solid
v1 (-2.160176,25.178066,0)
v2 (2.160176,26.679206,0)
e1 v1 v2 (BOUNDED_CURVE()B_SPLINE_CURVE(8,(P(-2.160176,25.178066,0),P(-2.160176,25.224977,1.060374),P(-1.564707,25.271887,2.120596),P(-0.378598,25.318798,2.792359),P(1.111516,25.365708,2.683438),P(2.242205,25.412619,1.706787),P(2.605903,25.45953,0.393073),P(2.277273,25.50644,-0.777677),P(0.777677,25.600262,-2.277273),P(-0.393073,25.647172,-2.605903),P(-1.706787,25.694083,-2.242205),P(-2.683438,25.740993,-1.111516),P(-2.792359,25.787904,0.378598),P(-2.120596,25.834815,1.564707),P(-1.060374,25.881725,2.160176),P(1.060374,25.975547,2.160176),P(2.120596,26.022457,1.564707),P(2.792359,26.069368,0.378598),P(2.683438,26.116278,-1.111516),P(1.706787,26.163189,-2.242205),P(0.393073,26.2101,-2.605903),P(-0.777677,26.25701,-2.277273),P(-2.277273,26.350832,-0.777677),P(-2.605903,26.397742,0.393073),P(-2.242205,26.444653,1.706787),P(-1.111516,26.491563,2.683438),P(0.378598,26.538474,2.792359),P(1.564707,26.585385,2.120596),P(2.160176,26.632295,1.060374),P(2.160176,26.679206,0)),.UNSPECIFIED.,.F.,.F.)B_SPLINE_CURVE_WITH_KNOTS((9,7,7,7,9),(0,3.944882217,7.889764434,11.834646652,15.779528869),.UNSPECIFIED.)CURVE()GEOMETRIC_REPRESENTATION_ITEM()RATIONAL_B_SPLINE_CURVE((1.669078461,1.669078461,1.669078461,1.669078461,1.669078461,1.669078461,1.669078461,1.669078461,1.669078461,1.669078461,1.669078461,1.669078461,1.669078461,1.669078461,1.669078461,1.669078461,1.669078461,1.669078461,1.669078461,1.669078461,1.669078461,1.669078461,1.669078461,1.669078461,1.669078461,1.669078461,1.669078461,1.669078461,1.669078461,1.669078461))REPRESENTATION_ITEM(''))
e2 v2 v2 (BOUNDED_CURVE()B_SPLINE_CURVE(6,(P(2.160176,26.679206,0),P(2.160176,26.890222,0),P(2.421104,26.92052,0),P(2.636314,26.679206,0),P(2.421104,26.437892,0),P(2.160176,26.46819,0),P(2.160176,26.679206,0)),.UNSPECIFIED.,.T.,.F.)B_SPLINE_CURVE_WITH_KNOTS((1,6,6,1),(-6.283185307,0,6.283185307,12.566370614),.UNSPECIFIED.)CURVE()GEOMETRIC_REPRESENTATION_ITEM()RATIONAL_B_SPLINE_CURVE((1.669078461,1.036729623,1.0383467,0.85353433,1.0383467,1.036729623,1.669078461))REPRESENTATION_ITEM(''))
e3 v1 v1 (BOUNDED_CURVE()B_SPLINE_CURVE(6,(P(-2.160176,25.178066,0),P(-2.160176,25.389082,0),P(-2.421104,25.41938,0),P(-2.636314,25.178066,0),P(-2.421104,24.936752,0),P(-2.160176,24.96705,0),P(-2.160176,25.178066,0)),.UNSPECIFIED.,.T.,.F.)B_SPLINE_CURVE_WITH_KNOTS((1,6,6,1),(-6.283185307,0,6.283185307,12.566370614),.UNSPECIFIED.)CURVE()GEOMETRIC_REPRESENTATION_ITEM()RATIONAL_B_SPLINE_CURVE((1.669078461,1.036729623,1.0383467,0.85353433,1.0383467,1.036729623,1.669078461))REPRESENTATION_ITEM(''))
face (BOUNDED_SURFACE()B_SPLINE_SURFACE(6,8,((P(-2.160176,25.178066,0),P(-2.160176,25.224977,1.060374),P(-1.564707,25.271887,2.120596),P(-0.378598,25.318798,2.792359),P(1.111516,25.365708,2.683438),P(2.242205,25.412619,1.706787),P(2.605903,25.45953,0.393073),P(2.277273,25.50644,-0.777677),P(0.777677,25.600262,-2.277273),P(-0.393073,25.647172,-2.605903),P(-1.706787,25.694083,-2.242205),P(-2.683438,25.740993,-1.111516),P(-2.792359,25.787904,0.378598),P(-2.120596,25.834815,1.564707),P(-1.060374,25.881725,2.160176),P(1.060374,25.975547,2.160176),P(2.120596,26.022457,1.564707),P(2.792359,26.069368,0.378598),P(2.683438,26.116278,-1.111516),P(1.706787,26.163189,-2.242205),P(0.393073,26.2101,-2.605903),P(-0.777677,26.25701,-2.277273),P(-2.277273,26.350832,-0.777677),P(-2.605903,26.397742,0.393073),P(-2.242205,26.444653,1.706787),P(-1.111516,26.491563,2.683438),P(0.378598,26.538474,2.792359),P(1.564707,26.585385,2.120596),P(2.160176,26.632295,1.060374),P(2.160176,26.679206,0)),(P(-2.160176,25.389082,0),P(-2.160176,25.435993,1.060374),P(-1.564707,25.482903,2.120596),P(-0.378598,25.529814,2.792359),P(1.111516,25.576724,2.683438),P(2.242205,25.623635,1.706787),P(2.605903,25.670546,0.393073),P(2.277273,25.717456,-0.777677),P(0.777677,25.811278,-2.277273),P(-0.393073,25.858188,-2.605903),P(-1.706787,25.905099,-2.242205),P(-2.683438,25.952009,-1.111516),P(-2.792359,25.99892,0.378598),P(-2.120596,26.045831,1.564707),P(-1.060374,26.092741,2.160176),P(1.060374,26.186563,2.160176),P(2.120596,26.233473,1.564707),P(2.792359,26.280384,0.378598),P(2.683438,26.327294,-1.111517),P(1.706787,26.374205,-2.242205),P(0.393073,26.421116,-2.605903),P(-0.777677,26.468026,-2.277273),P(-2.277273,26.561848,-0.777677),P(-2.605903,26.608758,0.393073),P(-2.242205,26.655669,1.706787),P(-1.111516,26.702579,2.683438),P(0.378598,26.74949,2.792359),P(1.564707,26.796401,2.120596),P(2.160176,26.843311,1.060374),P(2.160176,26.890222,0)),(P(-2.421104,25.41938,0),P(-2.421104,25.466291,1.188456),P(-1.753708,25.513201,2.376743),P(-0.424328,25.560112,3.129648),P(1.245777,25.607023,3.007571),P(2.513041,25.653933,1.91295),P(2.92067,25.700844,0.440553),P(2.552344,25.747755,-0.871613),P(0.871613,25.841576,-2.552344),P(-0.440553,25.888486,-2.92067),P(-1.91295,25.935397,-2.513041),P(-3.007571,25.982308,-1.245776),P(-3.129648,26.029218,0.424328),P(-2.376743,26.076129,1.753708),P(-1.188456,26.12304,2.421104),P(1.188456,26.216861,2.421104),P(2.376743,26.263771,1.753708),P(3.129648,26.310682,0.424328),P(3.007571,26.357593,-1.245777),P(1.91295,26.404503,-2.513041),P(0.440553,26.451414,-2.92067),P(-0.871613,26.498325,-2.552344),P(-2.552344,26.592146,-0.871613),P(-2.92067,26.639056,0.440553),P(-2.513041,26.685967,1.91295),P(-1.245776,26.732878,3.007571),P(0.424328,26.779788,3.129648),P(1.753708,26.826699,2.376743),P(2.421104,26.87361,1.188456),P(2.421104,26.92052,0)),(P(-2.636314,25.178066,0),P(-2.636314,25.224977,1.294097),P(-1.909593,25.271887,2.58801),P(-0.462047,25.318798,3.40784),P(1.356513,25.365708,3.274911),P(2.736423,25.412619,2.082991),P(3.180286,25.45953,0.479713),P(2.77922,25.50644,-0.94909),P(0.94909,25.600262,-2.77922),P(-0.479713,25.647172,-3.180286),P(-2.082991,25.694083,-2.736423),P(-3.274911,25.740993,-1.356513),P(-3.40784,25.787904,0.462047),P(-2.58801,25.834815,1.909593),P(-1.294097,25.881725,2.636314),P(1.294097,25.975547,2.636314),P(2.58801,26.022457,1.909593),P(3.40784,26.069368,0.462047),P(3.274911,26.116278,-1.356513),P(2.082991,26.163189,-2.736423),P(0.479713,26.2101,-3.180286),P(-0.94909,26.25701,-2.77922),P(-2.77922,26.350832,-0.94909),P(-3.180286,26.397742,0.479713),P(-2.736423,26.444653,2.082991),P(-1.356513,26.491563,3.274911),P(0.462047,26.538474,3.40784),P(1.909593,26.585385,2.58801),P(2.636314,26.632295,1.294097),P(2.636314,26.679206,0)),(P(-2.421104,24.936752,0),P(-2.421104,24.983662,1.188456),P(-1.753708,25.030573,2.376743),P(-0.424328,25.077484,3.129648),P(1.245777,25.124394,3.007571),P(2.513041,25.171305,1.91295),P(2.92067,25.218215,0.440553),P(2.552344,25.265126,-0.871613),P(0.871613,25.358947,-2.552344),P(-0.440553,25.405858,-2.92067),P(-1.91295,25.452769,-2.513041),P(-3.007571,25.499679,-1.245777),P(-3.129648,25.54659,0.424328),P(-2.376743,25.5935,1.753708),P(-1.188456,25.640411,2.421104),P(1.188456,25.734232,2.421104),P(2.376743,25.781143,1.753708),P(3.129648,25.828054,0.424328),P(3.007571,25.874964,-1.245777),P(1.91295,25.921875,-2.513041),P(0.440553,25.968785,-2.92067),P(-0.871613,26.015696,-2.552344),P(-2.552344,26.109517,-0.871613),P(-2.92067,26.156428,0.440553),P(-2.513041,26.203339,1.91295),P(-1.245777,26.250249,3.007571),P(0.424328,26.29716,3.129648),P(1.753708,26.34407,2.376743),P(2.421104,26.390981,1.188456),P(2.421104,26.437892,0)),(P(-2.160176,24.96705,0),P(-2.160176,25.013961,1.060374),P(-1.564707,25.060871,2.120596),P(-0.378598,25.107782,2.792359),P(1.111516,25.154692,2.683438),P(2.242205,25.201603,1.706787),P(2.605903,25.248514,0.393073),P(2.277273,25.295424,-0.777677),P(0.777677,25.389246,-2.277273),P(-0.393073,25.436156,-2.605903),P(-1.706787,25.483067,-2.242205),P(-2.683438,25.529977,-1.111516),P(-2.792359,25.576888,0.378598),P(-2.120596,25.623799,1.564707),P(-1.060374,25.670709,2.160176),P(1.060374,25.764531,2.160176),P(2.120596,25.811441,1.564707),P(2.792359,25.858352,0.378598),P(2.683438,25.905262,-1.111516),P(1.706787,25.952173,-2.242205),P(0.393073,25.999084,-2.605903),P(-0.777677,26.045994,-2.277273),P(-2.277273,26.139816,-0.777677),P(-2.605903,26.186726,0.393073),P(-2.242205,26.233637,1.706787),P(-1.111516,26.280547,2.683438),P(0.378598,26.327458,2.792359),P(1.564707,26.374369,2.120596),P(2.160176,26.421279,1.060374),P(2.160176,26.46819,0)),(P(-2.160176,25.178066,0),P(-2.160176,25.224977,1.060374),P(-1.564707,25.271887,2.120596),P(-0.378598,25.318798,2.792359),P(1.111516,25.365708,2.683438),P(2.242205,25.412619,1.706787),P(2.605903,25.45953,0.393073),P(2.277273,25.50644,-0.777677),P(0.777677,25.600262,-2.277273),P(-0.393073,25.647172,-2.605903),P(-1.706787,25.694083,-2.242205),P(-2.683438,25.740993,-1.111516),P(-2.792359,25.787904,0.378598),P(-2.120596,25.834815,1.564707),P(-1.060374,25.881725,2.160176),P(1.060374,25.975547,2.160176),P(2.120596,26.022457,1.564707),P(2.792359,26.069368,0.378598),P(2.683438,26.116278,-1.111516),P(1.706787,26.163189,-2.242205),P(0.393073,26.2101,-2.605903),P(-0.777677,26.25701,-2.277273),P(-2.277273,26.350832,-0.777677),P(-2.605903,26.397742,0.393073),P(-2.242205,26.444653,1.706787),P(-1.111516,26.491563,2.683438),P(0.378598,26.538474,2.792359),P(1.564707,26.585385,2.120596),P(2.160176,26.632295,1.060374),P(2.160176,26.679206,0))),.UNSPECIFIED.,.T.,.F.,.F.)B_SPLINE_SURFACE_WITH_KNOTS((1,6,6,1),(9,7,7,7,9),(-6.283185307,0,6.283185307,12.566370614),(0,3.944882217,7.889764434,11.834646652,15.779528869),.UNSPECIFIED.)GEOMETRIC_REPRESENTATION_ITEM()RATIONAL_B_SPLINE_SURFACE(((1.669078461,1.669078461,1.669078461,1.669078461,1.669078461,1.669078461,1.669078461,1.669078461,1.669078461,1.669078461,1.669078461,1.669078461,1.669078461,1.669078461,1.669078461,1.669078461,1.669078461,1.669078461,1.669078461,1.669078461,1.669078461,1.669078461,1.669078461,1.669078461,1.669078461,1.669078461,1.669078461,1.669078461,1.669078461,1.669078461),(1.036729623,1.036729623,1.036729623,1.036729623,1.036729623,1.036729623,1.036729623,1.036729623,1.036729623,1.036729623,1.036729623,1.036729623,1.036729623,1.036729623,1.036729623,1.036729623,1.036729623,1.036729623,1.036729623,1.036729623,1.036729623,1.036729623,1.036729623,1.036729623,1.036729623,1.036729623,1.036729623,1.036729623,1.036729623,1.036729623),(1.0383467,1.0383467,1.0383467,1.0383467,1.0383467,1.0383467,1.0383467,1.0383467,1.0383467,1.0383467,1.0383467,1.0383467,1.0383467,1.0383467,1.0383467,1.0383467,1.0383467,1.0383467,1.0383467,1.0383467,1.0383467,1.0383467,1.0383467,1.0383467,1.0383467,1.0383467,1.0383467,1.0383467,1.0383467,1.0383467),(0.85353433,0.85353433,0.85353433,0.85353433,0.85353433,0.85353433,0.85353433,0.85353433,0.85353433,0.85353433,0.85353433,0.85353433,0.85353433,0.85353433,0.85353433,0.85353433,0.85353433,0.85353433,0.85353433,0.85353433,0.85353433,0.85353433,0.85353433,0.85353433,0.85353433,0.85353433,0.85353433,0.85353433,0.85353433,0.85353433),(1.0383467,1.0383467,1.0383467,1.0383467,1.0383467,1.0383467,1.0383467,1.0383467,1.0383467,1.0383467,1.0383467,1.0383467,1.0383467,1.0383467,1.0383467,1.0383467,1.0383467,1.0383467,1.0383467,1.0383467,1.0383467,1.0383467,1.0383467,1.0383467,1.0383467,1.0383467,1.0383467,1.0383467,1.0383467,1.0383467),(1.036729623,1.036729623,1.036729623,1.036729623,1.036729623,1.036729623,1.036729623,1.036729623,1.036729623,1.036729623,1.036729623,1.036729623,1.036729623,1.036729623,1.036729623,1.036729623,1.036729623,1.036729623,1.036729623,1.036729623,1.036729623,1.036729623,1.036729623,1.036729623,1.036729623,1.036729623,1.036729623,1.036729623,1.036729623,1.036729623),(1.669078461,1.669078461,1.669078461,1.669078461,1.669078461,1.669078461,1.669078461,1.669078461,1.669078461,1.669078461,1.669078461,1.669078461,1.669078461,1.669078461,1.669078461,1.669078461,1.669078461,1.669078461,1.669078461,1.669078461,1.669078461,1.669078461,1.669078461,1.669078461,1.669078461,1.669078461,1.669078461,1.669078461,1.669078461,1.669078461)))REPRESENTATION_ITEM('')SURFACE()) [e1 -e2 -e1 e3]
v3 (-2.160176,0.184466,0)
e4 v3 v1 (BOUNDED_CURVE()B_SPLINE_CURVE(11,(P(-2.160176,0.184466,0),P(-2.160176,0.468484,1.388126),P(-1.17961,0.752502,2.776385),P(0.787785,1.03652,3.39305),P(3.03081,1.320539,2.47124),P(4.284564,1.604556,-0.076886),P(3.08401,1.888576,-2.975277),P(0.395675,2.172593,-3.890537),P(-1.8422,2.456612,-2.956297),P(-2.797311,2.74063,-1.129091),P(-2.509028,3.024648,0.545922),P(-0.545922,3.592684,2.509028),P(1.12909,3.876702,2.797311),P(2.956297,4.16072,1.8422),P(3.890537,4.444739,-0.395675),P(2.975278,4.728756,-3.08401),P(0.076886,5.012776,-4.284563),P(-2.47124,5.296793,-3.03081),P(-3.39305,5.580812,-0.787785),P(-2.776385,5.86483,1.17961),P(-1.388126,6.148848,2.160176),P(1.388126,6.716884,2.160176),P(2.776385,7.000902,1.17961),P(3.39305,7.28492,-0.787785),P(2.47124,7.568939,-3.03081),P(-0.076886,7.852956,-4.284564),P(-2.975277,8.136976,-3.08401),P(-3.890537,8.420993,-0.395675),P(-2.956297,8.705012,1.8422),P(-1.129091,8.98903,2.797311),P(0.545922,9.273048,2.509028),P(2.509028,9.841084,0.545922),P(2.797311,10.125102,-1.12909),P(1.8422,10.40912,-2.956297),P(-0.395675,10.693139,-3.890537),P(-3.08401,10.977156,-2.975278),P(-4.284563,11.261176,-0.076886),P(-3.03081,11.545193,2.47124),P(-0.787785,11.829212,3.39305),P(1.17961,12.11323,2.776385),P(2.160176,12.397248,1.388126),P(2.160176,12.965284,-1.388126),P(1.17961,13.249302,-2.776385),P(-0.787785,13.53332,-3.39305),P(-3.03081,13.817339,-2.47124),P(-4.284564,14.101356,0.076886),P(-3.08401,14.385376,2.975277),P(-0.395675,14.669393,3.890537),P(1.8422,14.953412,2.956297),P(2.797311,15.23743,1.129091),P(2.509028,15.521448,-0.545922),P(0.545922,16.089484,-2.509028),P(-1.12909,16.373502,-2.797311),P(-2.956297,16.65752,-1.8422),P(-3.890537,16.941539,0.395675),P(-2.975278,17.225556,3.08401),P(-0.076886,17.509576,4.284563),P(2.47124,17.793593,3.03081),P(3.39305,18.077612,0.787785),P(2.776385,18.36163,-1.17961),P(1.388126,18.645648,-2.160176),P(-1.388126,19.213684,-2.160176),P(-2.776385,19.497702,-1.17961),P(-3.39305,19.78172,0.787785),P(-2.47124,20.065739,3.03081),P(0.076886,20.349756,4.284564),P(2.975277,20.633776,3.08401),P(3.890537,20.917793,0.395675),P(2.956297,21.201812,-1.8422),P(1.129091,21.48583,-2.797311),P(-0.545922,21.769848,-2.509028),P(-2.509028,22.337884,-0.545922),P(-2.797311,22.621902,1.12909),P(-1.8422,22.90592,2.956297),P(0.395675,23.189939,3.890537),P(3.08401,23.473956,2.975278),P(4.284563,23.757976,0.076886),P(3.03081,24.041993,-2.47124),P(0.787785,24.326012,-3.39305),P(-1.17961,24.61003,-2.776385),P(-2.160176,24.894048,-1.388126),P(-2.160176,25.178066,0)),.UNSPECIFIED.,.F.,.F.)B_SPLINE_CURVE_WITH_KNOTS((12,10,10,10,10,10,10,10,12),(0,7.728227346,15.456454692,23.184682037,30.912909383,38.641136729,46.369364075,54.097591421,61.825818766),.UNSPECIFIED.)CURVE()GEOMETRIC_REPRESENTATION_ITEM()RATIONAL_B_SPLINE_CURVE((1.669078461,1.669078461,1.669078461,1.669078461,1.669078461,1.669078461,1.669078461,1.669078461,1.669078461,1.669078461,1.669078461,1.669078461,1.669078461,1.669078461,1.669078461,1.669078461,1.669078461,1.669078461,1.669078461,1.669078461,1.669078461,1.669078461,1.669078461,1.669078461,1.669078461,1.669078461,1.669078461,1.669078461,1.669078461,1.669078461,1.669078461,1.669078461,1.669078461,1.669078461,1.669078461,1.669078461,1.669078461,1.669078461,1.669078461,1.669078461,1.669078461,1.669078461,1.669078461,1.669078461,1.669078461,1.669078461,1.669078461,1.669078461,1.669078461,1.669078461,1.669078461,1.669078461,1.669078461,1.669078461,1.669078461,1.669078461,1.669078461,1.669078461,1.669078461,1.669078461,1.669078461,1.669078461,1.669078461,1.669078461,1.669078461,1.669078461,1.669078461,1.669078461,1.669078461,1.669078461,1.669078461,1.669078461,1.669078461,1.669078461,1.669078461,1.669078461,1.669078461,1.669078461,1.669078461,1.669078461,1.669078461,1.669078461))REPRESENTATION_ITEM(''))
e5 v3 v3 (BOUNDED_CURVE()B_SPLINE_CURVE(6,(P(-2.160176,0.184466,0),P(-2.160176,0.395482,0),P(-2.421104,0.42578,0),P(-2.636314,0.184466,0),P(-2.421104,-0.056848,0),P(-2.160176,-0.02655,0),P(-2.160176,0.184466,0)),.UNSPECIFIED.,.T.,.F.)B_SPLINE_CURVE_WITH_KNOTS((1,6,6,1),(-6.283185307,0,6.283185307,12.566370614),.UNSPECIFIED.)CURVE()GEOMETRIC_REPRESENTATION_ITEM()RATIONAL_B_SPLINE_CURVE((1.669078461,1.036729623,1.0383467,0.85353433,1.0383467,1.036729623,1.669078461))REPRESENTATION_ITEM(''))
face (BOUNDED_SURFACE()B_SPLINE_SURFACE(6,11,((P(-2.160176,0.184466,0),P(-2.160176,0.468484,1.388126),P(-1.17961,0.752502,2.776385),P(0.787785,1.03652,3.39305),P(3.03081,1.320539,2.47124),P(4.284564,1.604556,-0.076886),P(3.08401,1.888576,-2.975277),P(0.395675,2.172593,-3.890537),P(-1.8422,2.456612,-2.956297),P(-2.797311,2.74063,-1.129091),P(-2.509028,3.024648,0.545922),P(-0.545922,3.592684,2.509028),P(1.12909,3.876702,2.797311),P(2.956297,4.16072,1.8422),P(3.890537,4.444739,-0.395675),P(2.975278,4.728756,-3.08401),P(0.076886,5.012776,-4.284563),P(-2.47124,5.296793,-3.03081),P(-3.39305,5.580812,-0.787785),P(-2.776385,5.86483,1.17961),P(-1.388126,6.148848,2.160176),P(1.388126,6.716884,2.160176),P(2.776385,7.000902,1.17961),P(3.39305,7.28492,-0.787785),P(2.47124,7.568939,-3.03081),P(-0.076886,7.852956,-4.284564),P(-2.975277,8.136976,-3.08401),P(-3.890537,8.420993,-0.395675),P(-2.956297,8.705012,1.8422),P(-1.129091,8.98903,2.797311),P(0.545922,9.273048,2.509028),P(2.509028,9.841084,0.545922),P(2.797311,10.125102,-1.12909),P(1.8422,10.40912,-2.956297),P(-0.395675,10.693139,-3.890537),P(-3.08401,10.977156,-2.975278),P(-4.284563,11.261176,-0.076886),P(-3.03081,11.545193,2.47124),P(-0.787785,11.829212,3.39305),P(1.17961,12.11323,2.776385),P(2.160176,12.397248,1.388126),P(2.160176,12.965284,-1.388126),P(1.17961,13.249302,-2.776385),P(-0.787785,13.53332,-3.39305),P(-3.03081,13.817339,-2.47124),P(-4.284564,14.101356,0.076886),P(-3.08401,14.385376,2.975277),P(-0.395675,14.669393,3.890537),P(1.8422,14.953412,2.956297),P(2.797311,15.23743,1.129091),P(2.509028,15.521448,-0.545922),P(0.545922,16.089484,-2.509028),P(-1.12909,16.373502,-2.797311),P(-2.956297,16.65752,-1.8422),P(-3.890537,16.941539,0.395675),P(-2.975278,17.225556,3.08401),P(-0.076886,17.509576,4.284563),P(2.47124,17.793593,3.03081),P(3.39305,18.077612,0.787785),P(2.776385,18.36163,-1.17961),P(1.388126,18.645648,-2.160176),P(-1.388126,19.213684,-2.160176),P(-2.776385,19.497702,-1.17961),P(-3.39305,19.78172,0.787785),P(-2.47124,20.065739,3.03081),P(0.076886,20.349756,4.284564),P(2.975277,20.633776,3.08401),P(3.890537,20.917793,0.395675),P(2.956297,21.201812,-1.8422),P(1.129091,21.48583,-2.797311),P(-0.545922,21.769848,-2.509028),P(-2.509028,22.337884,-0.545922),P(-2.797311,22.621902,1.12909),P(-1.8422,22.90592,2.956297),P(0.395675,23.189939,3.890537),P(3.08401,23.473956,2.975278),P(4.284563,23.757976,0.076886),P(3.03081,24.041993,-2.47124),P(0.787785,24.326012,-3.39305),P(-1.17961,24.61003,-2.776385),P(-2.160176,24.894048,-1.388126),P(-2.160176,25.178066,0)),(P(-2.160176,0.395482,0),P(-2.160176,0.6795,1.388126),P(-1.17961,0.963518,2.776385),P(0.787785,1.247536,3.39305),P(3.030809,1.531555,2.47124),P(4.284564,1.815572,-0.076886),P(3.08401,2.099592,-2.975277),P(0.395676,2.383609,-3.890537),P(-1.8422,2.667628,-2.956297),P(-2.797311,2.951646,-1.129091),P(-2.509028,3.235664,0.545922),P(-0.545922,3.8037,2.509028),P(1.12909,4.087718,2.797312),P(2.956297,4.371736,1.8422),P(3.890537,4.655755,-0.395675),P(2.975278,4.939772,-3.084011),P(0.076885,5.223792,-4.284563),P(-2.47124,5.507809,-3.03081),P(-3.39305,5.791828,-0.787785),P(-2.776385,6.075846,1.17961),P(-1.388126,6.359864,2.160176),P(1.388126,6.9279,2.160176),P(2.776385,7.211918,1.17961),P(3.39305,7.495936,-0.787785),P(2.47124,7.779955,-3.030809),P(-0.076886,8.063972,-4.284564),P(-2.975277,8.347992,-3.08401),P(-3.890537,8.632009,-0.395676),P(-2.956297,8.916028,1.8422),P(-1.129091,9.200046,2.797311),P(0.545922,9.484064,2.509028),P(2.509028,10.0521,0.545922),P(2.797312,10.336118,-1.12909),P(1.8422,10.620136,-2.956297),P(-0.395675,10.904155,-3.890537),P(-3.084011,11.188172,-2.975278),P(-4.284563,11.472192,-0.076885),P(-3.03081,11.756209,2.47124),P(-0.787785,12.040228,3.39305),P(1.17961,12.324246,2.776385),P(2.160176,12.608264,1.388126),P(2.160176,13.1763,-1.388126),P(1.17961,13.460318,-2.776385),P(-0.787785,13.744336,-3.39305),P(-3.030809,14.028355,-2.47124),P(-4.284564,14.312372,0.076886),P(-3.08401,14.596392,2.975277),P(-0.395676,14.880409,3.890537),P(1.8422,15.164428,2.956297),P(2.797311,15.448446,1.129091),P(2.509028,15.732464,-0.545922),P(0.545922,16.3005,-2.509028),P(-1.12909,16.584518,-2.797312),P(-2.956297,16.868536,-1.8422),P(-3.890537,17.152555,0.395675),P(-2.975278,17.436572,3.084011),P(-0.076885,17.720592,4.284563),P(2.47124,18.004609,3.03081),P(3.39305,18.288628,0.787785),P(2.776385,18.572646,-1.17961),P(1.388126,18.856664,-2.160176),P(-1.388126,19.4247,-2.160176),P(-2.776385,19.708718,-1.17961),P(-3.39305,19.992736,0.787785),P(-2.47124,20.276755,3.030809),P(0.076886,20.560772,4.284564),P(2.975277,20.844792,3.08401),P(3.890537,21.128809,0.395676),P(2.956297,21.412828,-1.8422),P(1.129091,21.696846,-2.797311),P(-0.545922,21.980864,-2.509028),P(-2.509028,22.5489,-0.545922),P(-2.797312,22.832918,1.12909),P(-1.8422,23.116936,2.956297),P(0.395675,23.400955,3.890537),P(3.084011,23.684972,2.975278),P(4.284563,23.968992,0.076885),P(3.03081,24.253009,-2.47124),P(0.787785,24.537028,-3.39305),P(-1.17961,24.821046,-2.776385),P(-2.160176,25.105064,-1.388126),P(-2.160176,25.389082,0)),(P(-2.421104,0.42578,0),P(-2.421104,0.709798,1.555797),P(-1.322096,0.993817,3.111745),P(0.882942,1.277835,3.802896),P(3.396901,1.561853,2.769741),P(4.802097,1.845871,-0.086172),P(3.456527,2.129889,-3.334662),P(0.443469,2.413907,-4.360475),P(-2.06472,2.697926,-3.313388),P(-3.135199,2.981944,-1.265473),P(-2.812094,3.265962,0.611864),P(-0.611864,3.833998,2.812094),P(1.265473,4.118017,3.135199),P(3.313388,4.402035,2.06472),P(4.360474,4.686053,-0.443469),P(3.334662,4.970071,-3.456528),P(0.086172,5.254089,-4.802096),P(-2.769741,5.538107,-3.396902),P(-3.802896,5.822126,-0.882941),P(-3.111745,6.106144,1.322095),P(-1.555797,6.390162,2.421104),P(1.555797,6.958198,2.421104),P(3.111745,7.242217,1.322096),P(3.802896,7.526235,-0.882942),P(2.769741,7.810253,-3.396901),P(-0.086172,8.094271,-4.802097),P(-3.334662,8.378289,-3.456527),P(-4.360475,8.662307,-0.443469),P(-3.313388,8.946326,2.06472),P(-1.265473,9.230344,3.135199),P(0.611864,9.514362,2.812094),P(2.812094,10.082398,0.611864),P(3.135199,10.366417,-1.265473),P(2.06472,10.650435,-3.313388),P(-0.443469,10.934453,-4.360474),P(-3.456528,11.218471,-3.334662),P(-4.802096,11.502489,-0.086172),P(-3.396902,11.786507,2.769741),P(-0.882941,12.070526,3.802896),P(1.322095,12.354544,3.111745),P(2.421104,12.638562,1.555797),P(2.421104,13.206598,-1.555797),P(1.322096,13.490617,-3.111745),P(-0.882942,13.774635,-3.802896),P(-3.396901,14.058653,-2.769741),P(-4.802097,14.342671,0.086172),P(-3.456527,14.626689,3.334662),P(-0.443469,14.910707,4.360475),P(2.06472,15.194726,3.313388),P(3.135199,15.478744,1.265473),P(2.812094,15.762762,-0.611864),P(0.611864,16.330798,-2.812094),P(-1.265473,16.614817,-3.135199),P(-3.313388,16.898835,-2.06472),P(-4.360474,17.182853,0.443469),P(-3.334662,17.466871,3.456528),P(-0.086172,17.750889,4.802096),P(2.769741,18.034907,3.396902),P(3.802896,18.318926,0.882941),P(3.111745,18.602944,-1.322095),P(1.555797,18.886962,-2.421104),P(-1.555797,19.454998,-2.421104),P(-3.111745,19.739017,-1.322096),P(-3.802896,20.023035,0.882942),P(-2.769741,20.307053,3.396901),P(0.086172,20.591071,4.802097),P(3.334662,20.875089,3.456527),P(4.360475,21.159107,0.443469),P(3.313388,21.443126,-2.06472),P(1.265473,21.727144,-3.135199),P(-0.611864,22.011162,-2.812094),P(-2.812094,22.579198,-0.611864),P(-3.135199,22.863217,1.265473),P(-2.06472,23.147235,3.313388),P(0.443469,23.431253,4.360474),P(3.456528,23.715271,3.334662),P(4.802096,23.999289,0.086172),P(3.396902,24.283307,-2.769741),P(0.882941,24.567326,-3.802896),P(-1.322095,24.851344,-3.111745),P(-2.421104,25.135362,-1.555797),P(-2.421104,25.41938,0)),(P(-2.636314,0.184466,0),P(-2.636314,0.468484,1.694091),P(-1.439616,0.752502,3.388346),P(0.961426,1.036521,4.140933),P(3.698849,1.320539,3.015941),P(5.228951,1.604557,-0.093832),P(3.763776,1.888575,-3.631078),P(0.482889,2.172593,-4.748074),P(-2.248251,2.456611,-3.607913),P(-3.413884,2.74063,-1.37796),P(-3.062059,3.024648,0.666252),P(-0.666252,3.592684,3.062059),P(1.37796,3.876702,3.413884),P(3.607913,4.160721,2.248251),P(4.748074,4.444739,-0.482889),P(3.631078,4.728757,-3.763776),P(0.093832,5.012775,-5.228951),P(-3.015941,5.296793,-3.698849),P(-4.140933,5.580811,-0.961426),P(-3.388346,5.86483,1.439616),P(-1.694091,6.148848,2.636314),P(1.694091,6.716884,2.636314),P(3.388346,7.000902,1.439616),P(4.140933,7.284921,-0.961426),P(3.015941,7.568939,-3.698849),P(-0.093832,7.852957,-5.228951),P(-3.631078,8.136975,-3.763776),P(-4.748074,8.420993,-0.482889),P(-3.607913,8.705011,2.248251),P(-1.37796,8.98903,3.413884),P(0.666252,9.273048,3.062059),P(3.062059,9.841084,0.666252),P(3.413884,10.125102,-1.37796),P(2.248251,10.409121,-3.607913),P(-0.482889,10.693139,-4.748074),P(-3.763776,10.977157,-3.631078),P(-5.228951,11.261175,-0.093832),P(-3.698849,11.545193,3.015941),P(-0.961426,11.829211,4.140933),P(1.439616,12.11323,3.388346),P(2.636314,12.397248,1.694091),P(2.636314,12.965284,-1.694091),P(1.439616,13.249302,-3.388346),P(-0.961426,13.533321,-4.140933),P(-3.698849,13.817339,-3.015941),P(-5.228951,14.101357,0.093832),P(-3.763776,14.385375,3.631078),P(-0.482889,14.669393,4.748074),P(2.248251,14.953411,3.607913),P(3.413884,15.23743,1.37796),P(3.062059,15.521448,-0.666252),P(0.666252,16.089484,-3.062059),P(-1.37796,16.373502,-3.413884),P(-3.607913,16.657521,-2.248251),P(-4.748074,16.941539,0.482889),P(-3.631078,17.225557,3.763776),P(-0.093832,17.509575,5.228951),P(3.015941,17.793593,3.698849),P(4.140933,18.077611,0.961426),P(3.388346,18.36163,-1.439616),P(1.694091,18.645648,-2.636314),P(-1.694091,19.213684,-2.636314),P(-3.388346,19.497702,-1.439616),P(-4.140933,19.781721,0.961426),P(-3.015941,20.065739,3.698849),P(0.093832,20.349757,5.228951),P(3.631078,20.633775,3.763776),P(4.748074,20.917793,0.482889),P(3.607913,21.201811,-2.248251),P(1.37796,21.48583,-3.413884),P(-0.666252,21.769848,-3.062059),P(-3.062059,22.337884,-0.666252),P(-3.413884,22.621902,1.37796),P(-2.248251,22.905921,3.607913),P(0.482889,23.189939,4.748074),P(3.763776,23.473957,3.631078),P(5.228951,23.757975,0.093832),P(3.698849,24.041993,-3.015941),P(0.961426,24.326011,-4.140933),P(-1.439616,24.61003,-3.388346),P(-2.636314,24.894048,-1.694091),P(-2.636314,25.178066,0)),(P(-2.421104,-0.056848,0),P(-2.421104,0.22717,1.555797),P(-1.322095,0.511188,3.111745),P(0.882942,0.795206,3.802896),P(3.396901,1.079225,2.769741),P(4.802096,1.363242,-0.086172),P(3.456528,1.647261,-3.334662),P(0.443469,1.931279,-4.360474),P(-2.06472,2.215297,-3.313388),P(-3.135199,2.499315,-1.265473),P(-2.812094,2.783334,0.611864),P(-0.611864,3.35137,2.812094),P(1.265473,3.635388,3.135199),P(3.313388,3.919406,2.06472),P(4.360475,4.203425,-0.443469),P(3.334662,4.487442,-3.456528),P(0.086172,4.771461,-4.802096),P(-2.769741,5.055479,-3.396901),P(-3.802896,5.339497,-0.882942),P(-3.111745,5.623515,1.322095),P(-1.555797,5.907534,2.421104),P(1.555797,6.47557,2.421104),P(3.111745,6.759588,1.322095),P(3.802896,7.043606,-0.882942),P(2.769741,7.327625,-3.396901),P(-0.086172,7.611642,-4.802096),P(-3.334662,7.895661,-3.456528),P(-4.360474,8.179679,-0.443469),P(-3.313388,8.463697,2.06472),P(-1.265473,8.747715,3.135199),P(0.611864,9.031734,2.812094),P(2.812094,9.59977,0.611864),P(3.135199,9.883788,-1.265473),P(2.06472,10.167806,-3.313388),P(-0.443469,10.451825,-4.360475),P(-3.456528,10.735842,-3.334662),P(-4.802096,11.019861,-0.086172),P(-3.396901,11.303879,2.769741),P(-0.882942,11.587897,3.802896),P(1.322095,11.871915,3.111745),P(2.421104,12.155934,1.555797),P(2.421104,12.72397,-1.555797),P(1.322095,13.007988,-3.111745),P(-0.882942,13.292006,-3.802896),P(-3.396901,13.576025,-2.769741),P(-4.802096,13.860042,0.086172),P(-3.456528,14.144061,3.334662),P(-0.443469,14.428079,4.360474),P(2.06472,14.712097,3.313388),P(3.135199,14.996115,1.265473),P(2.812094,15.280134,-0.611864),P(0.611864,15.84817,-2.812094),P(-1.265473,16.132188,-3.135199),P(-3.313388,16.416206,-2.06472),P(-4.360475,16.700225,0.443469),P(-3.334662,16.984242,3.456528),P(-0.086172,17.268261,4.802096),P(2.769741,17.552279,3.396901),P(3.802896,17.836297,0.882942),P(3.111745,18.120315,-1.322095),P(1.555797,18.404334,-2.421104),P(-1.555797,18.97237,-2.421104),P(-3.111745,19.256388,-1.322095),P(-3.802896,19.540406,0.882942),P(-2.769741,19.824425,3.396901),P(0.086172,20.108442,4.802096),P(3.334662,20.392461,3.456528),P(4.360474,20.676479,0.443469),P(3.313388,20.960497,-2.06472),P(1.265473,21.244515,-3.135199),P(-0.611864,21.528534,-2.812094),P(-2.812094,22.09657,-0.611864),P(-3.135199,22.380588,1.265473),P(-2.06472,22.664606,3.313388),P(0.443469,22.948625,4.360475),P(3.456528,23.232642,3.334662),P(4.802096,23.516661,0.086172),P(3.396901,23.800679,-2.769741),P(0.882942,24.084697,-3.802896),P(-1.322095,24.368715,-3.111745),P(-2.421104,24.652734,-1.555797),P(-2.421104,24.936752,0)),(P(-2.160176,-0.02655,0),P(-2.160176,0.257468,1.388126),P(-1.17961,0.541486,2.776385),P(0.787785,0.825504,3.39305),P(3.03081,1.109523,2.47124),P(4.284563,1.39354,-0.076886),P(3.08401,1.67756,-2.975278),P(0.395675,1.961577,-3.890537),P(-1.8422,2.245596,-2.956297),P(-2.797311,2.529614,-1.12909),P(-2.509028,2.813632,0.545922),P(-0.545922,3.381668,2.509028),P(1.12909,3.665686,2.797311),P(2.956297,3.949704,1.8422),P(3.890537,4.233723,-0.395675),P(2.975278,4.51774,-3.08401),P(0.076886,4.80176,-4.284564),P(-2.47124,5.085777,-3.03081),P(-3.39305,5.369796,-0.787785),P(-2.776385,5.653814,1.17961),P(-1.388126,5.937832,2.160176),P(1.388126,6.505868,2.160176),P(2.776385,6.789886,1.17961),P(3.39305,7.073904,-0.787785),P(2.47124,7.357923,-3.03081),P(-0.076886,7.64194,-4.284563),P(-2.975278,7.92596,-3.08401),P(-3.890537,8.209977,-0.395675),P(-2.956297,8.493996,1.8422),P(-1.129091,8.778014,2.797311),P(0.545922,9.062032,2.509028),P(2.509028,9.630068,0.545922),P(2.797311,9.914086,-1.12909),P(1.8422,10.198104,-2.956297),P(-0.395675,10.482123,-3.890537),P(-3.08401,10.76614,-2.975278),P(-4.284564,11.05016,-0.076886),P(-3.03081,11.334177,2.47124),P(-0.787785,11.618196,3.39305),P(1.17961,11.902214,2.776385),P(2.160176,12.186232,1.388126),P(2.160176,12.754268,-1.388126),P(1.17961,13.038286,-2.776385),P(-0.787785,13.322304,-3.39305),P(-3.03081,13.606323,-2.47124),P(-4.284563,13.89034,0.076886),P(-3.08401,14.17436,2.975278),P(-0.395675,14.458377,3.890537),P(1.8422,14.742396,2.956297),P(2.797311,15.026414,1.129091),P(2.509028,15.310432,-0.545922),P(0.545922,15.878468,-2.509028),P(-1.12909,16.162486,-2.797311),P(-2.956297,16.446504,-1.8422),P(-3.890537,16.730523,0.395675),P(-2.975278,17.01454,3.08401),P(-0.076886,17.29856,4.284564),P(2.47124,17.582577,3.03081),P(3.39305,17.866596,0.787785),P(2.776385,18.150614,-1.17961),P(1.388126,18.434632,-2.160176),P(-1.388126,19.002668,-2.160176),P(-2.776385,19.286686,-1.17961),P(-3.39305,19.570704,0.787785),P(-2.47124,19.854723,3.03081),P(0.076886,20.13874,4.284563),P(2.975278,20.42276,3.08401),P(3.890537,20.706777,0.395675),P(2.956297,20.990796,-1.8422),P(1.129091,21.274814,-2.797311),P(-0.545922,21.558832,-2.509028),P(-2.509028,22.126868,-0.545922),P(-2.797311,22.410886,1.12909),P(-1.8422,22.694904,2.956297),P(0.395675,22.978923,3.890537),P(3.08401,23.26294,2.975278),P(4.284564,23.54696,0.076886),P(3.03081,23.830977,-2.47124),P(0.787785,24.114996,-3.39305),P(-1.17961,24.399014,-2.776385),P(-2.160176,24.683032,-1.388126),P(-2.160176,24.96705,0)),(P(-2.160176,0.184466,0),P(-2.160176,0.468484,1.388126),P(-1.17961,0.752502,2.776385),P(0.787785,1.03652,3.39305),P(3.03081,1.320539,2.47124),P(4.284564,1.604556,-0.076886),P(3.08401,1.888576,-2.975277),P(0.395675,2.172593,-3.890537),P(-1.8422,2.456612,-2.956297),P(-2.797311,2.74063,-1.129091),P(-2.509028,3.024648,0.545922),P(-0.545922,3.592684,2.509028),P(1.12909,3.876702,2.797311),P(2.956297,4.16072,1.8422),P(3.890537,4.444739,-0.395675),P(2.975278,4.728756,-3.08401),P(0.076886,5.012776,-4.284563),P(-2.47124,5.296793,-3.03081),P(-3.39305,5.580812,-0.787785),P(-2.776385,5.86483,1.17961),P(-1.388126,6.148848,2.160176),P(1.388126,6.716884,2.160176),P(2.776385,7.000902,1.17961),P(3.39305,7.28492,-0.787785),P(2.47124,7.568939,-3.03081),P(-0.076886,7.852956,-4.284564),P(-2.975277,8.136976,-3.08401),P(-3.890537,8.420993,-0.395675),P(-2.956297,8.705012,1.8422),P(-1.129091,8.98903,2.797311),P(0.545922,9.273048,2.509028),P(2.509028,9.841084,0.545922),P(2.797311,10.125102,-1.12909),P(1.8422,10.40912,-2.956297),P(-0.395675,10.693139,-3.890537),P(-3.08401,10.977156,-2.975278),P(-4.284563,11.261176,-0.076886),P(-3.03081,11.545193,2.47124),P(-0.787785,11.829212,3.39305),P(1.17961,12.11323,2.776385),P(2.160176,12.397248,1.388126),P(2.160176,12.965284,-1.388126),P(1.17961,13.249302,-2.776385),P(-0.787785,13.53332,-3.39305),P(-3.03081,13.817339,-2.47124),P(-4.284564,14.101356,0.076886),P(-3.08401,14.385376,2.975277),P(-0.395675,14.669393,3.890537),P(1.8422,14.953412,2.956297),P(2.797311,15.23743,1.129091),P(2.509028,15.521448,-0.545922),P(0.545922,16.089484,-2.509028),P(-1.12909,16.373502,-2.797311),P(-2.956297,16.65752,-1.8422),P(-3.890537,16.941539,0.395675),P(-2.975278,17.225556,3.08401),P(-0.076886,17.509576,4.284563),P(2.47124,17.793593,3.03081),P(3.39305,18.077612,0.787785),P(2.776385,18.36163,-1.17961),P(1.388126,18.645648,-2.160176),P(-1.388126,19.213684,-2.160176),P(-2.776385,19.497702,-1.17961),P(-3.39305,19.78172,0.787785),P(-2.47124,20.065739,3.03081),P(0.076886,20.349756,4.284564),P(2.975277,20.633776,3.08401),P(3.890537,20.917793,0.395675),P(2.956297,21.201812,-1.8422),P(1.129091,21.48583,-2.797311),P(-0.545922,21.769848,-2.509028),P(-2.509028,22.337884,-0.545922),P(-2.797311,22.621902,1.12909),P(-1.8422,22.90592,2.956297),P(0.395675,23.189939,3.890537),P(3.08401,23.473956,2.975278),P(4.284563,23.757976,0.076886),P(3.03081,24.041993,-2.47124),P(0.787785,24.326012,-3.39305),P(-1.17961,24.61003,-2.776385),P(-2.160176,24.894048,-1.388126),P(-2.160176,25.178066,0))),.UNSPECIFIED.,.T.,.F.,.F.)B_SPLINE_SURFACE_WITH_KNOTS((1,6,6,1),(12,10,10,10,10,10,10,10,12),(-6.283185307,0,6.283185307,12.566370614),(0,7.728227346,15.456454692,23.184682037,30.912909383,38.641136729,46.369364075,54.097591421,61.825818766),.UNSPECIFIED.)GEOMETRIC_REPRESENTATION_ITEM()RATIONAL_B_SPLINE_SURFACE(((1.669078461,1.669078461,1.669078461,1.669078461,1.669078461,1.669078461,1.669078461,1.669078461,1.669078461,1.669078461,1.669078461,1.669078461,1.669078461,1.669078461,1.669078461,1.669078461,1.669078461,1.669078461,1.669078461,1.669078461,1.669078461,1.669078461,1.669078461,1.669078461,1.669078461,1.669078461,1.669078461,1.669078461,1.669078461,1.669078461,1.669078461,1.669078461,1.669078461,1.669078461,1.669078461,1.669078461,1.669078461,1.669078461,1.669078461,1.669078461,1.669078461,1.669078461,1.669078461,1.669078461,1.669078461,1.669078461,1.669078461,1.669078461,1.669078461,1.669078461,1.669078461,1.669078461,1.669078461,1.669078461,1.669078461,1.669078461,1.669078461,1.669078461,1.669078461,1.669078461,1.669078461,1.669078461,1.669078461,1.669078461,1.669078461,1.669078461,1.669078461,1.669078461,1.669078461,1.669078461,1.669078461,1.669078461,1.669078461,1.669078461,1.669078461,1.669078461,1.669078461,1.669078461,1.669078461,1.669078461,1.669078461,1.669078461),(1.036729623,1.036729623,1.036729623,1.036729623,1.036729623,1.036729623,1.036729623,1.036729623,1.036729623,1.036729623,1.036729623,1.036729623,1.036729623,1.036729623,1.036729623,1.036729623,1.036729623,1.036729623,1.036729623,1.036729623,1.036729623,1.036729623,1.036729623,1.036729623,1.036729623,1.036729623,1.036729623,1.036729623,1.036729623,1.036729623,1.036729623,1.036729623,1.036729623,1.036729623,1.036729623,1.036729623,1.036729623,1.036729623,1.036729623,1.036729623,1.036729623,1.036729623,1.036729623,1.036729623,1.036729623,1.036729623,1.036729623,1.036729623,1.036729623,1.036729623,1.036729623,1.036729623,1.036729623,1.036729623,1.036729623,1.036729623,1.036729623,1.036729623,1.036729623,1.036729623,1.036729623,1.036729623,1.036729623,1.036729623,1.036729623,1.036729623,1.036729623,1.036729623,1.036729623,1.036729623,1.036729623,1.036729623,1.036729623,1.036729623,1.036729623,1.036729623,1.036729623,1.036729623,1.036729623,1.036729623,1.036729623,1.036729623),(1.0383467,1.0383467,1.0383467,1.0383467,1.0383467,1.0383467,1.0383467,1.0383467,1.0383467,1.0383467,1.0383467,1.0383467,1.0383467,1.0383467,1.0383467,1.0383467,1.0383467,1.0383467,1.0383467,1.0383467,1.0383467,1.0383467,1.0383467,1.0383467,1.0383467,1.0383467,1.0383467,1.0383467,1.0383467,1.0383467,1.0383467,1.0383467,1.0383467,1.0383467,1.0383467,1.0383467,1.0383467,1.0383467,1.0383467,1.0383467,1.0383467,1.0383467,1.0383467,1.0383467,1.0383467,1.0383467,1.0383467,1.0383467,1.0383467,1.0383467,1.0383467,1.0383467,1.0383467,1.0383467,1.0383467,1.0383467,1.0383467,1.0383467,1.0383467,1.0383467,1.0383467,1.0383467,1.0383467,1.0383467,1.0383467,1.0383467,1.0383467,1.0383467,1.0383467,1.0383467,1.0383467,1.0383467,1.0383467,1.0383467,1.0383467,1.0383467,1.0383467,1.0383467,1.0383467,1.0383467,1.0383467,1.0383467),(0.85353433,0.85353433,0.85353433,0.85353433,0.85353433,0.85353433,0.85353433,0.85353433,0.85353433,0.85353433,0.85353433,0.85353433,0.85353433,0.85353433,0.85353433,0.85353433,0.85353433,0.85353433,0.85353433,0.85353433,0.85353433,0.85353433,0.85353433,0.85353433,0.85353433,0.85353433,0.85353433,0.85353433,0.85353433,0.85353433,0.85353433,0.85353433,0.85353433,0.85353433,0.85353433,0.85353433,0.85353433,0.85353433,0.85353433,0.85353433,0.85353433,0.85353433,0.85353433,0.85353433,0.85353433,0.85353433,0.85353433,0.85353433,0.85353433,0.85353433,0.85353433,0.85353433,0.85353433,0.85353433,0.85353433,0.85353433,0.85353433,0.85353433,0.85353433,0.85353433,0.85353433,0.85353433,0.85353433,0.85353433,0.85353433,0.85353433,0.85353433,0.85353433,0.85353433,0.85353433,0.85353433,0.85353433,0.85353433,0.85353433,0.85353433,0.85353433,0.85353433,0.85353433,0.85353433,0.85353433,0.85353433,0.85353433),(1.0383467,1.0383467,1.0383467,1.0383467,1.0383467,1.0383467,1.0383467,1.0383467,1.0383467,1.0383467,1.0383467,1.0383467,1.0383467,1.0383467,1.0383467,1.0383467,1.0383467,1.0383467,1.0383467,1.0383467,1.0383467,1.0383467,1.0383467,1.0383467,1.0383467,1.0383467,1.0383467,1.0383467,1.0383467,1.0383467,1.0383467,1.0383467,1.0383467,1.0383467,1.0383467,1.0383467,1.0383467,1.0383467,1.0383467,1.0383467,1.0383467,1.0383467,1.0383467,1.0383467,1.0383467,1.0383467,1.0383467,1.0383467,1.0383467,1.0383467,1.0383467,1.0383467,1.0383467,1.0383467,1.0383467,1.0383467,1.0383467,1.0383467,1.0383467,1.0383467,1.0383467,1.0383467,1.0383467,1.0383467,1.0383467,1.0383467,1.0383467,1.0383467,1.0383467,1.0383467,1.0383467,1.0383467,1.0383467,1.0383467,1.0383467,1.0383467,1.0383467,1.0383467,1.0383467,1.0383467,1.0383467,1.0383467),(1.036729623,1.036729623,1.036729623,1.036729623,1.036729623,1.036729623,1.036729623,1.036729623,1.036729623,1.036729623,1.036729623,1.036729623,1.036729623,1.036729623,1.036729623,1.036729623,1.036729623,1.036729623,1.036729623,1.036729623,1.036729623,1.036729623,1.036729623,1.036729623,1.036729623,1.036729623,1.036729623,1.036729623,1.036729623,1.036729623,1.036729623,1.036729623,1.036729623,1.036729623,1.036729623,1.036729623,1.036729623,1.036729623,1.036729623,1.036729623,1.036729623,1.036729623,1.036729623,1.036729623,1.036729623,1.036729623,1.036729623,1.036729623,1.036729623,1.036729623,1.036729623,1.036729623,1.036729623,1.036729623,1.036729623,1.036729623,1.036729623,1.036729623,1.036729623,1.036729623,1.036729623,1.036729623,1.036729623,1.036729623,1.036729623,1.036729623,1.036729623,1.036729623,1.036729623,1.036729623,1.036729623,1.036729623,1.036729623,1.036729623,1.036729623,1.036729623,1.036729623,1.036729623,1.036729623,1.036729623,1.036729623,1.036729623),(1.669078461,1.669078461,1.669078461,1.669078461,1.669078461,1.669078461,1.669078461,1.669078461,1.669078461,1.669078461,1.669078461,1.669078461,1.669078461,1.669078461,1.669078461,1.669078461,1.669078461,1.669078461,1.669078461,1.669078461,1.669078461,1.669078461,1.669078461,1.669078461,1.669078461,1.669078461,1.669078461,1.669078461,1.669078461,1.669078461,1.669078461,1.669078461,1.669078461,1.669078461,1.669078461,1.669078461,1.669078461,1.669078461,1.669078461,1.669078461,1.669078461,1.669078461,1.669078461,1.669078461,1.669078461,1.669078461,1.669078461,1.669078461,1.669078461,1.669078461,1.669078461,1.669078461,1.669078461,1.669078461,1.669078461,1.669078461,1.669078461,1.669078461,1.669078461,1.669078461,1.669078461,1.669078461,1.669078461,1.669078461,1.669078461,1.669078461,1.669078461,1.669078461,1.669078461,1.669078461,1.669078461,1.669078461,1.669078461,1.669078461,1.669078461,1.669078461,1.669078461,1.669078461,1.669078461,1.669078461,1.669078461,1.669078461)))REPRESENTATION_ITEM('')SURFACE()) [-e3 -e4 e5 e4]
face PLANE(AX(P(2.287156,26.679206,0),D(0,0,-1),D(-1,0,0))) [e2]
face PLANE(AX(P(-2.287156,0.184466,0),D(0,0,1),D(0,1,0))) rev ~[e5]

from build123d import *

# Parameters (mm, degrees)
SWEEP1_PITCH       = 2.777066667
SWEEP1_HEIGHT      = 24.9936
SWEEP1_RADIUS      = 2.5019
SWEEP1_START_ANGLE = -90
SKETCH2_R          = 0.127
SWEEP2_PITCH       = 0.600456
SWEEP2_HEIGHT      = 1.50114
SWEEP2_RADIUS      = 2.5019
SWEEP2_START_ANGLE = -90
SKETCH5_R          = 0.127


with BuildPart() as part:
    # Sweep1: sweep along a helix
    with BuildLine() as sweep1_path:
        add(Helix(SWEEP1_PITCH, SWEEP1_HEIGHT, SWEEP1_RADIUS, center=(0, 0, 0), direction=(0, 1, 0), mode=Mode.PRIVATE).rotate(Axis((0, 0, 0), (0, 1, 0)), SWEEP1_START_ANGLE))
    # Sketch2 → Sweep1 (sweep)
    with BuildSketch(Plane.XY):
        with Locations((-2.287175902, 0.184465964)):
            Circle(SKETCH2_R)
    sweep(path=sweep1_path.line, is_frenet=True)

    # Sweep2: sweep along a helix
    with BuildLine() as sweep2_path:
        add(Helix(SWEEP2_PITCH, SWEEP2_HEIGHT, SWEEP2_RADIUS, center=(0, 24.92756, 0), direction=(0, 1, 0), mode=Mode.PRIVATE).rotate(Axis((0, 24.92756, 0), (0, 1, 0)), SWEEP2_START_ANGLE))
    # Sketch5 → Sweep2 (sweep)
    with BuildSketch(Plane.XY):
        with Locations((-2.287175902, 25.178065964)):
            Circle(SKETCH5_R)
    sweep(path=sweep2_path.line, is_frenet=True)


solid = part.part
